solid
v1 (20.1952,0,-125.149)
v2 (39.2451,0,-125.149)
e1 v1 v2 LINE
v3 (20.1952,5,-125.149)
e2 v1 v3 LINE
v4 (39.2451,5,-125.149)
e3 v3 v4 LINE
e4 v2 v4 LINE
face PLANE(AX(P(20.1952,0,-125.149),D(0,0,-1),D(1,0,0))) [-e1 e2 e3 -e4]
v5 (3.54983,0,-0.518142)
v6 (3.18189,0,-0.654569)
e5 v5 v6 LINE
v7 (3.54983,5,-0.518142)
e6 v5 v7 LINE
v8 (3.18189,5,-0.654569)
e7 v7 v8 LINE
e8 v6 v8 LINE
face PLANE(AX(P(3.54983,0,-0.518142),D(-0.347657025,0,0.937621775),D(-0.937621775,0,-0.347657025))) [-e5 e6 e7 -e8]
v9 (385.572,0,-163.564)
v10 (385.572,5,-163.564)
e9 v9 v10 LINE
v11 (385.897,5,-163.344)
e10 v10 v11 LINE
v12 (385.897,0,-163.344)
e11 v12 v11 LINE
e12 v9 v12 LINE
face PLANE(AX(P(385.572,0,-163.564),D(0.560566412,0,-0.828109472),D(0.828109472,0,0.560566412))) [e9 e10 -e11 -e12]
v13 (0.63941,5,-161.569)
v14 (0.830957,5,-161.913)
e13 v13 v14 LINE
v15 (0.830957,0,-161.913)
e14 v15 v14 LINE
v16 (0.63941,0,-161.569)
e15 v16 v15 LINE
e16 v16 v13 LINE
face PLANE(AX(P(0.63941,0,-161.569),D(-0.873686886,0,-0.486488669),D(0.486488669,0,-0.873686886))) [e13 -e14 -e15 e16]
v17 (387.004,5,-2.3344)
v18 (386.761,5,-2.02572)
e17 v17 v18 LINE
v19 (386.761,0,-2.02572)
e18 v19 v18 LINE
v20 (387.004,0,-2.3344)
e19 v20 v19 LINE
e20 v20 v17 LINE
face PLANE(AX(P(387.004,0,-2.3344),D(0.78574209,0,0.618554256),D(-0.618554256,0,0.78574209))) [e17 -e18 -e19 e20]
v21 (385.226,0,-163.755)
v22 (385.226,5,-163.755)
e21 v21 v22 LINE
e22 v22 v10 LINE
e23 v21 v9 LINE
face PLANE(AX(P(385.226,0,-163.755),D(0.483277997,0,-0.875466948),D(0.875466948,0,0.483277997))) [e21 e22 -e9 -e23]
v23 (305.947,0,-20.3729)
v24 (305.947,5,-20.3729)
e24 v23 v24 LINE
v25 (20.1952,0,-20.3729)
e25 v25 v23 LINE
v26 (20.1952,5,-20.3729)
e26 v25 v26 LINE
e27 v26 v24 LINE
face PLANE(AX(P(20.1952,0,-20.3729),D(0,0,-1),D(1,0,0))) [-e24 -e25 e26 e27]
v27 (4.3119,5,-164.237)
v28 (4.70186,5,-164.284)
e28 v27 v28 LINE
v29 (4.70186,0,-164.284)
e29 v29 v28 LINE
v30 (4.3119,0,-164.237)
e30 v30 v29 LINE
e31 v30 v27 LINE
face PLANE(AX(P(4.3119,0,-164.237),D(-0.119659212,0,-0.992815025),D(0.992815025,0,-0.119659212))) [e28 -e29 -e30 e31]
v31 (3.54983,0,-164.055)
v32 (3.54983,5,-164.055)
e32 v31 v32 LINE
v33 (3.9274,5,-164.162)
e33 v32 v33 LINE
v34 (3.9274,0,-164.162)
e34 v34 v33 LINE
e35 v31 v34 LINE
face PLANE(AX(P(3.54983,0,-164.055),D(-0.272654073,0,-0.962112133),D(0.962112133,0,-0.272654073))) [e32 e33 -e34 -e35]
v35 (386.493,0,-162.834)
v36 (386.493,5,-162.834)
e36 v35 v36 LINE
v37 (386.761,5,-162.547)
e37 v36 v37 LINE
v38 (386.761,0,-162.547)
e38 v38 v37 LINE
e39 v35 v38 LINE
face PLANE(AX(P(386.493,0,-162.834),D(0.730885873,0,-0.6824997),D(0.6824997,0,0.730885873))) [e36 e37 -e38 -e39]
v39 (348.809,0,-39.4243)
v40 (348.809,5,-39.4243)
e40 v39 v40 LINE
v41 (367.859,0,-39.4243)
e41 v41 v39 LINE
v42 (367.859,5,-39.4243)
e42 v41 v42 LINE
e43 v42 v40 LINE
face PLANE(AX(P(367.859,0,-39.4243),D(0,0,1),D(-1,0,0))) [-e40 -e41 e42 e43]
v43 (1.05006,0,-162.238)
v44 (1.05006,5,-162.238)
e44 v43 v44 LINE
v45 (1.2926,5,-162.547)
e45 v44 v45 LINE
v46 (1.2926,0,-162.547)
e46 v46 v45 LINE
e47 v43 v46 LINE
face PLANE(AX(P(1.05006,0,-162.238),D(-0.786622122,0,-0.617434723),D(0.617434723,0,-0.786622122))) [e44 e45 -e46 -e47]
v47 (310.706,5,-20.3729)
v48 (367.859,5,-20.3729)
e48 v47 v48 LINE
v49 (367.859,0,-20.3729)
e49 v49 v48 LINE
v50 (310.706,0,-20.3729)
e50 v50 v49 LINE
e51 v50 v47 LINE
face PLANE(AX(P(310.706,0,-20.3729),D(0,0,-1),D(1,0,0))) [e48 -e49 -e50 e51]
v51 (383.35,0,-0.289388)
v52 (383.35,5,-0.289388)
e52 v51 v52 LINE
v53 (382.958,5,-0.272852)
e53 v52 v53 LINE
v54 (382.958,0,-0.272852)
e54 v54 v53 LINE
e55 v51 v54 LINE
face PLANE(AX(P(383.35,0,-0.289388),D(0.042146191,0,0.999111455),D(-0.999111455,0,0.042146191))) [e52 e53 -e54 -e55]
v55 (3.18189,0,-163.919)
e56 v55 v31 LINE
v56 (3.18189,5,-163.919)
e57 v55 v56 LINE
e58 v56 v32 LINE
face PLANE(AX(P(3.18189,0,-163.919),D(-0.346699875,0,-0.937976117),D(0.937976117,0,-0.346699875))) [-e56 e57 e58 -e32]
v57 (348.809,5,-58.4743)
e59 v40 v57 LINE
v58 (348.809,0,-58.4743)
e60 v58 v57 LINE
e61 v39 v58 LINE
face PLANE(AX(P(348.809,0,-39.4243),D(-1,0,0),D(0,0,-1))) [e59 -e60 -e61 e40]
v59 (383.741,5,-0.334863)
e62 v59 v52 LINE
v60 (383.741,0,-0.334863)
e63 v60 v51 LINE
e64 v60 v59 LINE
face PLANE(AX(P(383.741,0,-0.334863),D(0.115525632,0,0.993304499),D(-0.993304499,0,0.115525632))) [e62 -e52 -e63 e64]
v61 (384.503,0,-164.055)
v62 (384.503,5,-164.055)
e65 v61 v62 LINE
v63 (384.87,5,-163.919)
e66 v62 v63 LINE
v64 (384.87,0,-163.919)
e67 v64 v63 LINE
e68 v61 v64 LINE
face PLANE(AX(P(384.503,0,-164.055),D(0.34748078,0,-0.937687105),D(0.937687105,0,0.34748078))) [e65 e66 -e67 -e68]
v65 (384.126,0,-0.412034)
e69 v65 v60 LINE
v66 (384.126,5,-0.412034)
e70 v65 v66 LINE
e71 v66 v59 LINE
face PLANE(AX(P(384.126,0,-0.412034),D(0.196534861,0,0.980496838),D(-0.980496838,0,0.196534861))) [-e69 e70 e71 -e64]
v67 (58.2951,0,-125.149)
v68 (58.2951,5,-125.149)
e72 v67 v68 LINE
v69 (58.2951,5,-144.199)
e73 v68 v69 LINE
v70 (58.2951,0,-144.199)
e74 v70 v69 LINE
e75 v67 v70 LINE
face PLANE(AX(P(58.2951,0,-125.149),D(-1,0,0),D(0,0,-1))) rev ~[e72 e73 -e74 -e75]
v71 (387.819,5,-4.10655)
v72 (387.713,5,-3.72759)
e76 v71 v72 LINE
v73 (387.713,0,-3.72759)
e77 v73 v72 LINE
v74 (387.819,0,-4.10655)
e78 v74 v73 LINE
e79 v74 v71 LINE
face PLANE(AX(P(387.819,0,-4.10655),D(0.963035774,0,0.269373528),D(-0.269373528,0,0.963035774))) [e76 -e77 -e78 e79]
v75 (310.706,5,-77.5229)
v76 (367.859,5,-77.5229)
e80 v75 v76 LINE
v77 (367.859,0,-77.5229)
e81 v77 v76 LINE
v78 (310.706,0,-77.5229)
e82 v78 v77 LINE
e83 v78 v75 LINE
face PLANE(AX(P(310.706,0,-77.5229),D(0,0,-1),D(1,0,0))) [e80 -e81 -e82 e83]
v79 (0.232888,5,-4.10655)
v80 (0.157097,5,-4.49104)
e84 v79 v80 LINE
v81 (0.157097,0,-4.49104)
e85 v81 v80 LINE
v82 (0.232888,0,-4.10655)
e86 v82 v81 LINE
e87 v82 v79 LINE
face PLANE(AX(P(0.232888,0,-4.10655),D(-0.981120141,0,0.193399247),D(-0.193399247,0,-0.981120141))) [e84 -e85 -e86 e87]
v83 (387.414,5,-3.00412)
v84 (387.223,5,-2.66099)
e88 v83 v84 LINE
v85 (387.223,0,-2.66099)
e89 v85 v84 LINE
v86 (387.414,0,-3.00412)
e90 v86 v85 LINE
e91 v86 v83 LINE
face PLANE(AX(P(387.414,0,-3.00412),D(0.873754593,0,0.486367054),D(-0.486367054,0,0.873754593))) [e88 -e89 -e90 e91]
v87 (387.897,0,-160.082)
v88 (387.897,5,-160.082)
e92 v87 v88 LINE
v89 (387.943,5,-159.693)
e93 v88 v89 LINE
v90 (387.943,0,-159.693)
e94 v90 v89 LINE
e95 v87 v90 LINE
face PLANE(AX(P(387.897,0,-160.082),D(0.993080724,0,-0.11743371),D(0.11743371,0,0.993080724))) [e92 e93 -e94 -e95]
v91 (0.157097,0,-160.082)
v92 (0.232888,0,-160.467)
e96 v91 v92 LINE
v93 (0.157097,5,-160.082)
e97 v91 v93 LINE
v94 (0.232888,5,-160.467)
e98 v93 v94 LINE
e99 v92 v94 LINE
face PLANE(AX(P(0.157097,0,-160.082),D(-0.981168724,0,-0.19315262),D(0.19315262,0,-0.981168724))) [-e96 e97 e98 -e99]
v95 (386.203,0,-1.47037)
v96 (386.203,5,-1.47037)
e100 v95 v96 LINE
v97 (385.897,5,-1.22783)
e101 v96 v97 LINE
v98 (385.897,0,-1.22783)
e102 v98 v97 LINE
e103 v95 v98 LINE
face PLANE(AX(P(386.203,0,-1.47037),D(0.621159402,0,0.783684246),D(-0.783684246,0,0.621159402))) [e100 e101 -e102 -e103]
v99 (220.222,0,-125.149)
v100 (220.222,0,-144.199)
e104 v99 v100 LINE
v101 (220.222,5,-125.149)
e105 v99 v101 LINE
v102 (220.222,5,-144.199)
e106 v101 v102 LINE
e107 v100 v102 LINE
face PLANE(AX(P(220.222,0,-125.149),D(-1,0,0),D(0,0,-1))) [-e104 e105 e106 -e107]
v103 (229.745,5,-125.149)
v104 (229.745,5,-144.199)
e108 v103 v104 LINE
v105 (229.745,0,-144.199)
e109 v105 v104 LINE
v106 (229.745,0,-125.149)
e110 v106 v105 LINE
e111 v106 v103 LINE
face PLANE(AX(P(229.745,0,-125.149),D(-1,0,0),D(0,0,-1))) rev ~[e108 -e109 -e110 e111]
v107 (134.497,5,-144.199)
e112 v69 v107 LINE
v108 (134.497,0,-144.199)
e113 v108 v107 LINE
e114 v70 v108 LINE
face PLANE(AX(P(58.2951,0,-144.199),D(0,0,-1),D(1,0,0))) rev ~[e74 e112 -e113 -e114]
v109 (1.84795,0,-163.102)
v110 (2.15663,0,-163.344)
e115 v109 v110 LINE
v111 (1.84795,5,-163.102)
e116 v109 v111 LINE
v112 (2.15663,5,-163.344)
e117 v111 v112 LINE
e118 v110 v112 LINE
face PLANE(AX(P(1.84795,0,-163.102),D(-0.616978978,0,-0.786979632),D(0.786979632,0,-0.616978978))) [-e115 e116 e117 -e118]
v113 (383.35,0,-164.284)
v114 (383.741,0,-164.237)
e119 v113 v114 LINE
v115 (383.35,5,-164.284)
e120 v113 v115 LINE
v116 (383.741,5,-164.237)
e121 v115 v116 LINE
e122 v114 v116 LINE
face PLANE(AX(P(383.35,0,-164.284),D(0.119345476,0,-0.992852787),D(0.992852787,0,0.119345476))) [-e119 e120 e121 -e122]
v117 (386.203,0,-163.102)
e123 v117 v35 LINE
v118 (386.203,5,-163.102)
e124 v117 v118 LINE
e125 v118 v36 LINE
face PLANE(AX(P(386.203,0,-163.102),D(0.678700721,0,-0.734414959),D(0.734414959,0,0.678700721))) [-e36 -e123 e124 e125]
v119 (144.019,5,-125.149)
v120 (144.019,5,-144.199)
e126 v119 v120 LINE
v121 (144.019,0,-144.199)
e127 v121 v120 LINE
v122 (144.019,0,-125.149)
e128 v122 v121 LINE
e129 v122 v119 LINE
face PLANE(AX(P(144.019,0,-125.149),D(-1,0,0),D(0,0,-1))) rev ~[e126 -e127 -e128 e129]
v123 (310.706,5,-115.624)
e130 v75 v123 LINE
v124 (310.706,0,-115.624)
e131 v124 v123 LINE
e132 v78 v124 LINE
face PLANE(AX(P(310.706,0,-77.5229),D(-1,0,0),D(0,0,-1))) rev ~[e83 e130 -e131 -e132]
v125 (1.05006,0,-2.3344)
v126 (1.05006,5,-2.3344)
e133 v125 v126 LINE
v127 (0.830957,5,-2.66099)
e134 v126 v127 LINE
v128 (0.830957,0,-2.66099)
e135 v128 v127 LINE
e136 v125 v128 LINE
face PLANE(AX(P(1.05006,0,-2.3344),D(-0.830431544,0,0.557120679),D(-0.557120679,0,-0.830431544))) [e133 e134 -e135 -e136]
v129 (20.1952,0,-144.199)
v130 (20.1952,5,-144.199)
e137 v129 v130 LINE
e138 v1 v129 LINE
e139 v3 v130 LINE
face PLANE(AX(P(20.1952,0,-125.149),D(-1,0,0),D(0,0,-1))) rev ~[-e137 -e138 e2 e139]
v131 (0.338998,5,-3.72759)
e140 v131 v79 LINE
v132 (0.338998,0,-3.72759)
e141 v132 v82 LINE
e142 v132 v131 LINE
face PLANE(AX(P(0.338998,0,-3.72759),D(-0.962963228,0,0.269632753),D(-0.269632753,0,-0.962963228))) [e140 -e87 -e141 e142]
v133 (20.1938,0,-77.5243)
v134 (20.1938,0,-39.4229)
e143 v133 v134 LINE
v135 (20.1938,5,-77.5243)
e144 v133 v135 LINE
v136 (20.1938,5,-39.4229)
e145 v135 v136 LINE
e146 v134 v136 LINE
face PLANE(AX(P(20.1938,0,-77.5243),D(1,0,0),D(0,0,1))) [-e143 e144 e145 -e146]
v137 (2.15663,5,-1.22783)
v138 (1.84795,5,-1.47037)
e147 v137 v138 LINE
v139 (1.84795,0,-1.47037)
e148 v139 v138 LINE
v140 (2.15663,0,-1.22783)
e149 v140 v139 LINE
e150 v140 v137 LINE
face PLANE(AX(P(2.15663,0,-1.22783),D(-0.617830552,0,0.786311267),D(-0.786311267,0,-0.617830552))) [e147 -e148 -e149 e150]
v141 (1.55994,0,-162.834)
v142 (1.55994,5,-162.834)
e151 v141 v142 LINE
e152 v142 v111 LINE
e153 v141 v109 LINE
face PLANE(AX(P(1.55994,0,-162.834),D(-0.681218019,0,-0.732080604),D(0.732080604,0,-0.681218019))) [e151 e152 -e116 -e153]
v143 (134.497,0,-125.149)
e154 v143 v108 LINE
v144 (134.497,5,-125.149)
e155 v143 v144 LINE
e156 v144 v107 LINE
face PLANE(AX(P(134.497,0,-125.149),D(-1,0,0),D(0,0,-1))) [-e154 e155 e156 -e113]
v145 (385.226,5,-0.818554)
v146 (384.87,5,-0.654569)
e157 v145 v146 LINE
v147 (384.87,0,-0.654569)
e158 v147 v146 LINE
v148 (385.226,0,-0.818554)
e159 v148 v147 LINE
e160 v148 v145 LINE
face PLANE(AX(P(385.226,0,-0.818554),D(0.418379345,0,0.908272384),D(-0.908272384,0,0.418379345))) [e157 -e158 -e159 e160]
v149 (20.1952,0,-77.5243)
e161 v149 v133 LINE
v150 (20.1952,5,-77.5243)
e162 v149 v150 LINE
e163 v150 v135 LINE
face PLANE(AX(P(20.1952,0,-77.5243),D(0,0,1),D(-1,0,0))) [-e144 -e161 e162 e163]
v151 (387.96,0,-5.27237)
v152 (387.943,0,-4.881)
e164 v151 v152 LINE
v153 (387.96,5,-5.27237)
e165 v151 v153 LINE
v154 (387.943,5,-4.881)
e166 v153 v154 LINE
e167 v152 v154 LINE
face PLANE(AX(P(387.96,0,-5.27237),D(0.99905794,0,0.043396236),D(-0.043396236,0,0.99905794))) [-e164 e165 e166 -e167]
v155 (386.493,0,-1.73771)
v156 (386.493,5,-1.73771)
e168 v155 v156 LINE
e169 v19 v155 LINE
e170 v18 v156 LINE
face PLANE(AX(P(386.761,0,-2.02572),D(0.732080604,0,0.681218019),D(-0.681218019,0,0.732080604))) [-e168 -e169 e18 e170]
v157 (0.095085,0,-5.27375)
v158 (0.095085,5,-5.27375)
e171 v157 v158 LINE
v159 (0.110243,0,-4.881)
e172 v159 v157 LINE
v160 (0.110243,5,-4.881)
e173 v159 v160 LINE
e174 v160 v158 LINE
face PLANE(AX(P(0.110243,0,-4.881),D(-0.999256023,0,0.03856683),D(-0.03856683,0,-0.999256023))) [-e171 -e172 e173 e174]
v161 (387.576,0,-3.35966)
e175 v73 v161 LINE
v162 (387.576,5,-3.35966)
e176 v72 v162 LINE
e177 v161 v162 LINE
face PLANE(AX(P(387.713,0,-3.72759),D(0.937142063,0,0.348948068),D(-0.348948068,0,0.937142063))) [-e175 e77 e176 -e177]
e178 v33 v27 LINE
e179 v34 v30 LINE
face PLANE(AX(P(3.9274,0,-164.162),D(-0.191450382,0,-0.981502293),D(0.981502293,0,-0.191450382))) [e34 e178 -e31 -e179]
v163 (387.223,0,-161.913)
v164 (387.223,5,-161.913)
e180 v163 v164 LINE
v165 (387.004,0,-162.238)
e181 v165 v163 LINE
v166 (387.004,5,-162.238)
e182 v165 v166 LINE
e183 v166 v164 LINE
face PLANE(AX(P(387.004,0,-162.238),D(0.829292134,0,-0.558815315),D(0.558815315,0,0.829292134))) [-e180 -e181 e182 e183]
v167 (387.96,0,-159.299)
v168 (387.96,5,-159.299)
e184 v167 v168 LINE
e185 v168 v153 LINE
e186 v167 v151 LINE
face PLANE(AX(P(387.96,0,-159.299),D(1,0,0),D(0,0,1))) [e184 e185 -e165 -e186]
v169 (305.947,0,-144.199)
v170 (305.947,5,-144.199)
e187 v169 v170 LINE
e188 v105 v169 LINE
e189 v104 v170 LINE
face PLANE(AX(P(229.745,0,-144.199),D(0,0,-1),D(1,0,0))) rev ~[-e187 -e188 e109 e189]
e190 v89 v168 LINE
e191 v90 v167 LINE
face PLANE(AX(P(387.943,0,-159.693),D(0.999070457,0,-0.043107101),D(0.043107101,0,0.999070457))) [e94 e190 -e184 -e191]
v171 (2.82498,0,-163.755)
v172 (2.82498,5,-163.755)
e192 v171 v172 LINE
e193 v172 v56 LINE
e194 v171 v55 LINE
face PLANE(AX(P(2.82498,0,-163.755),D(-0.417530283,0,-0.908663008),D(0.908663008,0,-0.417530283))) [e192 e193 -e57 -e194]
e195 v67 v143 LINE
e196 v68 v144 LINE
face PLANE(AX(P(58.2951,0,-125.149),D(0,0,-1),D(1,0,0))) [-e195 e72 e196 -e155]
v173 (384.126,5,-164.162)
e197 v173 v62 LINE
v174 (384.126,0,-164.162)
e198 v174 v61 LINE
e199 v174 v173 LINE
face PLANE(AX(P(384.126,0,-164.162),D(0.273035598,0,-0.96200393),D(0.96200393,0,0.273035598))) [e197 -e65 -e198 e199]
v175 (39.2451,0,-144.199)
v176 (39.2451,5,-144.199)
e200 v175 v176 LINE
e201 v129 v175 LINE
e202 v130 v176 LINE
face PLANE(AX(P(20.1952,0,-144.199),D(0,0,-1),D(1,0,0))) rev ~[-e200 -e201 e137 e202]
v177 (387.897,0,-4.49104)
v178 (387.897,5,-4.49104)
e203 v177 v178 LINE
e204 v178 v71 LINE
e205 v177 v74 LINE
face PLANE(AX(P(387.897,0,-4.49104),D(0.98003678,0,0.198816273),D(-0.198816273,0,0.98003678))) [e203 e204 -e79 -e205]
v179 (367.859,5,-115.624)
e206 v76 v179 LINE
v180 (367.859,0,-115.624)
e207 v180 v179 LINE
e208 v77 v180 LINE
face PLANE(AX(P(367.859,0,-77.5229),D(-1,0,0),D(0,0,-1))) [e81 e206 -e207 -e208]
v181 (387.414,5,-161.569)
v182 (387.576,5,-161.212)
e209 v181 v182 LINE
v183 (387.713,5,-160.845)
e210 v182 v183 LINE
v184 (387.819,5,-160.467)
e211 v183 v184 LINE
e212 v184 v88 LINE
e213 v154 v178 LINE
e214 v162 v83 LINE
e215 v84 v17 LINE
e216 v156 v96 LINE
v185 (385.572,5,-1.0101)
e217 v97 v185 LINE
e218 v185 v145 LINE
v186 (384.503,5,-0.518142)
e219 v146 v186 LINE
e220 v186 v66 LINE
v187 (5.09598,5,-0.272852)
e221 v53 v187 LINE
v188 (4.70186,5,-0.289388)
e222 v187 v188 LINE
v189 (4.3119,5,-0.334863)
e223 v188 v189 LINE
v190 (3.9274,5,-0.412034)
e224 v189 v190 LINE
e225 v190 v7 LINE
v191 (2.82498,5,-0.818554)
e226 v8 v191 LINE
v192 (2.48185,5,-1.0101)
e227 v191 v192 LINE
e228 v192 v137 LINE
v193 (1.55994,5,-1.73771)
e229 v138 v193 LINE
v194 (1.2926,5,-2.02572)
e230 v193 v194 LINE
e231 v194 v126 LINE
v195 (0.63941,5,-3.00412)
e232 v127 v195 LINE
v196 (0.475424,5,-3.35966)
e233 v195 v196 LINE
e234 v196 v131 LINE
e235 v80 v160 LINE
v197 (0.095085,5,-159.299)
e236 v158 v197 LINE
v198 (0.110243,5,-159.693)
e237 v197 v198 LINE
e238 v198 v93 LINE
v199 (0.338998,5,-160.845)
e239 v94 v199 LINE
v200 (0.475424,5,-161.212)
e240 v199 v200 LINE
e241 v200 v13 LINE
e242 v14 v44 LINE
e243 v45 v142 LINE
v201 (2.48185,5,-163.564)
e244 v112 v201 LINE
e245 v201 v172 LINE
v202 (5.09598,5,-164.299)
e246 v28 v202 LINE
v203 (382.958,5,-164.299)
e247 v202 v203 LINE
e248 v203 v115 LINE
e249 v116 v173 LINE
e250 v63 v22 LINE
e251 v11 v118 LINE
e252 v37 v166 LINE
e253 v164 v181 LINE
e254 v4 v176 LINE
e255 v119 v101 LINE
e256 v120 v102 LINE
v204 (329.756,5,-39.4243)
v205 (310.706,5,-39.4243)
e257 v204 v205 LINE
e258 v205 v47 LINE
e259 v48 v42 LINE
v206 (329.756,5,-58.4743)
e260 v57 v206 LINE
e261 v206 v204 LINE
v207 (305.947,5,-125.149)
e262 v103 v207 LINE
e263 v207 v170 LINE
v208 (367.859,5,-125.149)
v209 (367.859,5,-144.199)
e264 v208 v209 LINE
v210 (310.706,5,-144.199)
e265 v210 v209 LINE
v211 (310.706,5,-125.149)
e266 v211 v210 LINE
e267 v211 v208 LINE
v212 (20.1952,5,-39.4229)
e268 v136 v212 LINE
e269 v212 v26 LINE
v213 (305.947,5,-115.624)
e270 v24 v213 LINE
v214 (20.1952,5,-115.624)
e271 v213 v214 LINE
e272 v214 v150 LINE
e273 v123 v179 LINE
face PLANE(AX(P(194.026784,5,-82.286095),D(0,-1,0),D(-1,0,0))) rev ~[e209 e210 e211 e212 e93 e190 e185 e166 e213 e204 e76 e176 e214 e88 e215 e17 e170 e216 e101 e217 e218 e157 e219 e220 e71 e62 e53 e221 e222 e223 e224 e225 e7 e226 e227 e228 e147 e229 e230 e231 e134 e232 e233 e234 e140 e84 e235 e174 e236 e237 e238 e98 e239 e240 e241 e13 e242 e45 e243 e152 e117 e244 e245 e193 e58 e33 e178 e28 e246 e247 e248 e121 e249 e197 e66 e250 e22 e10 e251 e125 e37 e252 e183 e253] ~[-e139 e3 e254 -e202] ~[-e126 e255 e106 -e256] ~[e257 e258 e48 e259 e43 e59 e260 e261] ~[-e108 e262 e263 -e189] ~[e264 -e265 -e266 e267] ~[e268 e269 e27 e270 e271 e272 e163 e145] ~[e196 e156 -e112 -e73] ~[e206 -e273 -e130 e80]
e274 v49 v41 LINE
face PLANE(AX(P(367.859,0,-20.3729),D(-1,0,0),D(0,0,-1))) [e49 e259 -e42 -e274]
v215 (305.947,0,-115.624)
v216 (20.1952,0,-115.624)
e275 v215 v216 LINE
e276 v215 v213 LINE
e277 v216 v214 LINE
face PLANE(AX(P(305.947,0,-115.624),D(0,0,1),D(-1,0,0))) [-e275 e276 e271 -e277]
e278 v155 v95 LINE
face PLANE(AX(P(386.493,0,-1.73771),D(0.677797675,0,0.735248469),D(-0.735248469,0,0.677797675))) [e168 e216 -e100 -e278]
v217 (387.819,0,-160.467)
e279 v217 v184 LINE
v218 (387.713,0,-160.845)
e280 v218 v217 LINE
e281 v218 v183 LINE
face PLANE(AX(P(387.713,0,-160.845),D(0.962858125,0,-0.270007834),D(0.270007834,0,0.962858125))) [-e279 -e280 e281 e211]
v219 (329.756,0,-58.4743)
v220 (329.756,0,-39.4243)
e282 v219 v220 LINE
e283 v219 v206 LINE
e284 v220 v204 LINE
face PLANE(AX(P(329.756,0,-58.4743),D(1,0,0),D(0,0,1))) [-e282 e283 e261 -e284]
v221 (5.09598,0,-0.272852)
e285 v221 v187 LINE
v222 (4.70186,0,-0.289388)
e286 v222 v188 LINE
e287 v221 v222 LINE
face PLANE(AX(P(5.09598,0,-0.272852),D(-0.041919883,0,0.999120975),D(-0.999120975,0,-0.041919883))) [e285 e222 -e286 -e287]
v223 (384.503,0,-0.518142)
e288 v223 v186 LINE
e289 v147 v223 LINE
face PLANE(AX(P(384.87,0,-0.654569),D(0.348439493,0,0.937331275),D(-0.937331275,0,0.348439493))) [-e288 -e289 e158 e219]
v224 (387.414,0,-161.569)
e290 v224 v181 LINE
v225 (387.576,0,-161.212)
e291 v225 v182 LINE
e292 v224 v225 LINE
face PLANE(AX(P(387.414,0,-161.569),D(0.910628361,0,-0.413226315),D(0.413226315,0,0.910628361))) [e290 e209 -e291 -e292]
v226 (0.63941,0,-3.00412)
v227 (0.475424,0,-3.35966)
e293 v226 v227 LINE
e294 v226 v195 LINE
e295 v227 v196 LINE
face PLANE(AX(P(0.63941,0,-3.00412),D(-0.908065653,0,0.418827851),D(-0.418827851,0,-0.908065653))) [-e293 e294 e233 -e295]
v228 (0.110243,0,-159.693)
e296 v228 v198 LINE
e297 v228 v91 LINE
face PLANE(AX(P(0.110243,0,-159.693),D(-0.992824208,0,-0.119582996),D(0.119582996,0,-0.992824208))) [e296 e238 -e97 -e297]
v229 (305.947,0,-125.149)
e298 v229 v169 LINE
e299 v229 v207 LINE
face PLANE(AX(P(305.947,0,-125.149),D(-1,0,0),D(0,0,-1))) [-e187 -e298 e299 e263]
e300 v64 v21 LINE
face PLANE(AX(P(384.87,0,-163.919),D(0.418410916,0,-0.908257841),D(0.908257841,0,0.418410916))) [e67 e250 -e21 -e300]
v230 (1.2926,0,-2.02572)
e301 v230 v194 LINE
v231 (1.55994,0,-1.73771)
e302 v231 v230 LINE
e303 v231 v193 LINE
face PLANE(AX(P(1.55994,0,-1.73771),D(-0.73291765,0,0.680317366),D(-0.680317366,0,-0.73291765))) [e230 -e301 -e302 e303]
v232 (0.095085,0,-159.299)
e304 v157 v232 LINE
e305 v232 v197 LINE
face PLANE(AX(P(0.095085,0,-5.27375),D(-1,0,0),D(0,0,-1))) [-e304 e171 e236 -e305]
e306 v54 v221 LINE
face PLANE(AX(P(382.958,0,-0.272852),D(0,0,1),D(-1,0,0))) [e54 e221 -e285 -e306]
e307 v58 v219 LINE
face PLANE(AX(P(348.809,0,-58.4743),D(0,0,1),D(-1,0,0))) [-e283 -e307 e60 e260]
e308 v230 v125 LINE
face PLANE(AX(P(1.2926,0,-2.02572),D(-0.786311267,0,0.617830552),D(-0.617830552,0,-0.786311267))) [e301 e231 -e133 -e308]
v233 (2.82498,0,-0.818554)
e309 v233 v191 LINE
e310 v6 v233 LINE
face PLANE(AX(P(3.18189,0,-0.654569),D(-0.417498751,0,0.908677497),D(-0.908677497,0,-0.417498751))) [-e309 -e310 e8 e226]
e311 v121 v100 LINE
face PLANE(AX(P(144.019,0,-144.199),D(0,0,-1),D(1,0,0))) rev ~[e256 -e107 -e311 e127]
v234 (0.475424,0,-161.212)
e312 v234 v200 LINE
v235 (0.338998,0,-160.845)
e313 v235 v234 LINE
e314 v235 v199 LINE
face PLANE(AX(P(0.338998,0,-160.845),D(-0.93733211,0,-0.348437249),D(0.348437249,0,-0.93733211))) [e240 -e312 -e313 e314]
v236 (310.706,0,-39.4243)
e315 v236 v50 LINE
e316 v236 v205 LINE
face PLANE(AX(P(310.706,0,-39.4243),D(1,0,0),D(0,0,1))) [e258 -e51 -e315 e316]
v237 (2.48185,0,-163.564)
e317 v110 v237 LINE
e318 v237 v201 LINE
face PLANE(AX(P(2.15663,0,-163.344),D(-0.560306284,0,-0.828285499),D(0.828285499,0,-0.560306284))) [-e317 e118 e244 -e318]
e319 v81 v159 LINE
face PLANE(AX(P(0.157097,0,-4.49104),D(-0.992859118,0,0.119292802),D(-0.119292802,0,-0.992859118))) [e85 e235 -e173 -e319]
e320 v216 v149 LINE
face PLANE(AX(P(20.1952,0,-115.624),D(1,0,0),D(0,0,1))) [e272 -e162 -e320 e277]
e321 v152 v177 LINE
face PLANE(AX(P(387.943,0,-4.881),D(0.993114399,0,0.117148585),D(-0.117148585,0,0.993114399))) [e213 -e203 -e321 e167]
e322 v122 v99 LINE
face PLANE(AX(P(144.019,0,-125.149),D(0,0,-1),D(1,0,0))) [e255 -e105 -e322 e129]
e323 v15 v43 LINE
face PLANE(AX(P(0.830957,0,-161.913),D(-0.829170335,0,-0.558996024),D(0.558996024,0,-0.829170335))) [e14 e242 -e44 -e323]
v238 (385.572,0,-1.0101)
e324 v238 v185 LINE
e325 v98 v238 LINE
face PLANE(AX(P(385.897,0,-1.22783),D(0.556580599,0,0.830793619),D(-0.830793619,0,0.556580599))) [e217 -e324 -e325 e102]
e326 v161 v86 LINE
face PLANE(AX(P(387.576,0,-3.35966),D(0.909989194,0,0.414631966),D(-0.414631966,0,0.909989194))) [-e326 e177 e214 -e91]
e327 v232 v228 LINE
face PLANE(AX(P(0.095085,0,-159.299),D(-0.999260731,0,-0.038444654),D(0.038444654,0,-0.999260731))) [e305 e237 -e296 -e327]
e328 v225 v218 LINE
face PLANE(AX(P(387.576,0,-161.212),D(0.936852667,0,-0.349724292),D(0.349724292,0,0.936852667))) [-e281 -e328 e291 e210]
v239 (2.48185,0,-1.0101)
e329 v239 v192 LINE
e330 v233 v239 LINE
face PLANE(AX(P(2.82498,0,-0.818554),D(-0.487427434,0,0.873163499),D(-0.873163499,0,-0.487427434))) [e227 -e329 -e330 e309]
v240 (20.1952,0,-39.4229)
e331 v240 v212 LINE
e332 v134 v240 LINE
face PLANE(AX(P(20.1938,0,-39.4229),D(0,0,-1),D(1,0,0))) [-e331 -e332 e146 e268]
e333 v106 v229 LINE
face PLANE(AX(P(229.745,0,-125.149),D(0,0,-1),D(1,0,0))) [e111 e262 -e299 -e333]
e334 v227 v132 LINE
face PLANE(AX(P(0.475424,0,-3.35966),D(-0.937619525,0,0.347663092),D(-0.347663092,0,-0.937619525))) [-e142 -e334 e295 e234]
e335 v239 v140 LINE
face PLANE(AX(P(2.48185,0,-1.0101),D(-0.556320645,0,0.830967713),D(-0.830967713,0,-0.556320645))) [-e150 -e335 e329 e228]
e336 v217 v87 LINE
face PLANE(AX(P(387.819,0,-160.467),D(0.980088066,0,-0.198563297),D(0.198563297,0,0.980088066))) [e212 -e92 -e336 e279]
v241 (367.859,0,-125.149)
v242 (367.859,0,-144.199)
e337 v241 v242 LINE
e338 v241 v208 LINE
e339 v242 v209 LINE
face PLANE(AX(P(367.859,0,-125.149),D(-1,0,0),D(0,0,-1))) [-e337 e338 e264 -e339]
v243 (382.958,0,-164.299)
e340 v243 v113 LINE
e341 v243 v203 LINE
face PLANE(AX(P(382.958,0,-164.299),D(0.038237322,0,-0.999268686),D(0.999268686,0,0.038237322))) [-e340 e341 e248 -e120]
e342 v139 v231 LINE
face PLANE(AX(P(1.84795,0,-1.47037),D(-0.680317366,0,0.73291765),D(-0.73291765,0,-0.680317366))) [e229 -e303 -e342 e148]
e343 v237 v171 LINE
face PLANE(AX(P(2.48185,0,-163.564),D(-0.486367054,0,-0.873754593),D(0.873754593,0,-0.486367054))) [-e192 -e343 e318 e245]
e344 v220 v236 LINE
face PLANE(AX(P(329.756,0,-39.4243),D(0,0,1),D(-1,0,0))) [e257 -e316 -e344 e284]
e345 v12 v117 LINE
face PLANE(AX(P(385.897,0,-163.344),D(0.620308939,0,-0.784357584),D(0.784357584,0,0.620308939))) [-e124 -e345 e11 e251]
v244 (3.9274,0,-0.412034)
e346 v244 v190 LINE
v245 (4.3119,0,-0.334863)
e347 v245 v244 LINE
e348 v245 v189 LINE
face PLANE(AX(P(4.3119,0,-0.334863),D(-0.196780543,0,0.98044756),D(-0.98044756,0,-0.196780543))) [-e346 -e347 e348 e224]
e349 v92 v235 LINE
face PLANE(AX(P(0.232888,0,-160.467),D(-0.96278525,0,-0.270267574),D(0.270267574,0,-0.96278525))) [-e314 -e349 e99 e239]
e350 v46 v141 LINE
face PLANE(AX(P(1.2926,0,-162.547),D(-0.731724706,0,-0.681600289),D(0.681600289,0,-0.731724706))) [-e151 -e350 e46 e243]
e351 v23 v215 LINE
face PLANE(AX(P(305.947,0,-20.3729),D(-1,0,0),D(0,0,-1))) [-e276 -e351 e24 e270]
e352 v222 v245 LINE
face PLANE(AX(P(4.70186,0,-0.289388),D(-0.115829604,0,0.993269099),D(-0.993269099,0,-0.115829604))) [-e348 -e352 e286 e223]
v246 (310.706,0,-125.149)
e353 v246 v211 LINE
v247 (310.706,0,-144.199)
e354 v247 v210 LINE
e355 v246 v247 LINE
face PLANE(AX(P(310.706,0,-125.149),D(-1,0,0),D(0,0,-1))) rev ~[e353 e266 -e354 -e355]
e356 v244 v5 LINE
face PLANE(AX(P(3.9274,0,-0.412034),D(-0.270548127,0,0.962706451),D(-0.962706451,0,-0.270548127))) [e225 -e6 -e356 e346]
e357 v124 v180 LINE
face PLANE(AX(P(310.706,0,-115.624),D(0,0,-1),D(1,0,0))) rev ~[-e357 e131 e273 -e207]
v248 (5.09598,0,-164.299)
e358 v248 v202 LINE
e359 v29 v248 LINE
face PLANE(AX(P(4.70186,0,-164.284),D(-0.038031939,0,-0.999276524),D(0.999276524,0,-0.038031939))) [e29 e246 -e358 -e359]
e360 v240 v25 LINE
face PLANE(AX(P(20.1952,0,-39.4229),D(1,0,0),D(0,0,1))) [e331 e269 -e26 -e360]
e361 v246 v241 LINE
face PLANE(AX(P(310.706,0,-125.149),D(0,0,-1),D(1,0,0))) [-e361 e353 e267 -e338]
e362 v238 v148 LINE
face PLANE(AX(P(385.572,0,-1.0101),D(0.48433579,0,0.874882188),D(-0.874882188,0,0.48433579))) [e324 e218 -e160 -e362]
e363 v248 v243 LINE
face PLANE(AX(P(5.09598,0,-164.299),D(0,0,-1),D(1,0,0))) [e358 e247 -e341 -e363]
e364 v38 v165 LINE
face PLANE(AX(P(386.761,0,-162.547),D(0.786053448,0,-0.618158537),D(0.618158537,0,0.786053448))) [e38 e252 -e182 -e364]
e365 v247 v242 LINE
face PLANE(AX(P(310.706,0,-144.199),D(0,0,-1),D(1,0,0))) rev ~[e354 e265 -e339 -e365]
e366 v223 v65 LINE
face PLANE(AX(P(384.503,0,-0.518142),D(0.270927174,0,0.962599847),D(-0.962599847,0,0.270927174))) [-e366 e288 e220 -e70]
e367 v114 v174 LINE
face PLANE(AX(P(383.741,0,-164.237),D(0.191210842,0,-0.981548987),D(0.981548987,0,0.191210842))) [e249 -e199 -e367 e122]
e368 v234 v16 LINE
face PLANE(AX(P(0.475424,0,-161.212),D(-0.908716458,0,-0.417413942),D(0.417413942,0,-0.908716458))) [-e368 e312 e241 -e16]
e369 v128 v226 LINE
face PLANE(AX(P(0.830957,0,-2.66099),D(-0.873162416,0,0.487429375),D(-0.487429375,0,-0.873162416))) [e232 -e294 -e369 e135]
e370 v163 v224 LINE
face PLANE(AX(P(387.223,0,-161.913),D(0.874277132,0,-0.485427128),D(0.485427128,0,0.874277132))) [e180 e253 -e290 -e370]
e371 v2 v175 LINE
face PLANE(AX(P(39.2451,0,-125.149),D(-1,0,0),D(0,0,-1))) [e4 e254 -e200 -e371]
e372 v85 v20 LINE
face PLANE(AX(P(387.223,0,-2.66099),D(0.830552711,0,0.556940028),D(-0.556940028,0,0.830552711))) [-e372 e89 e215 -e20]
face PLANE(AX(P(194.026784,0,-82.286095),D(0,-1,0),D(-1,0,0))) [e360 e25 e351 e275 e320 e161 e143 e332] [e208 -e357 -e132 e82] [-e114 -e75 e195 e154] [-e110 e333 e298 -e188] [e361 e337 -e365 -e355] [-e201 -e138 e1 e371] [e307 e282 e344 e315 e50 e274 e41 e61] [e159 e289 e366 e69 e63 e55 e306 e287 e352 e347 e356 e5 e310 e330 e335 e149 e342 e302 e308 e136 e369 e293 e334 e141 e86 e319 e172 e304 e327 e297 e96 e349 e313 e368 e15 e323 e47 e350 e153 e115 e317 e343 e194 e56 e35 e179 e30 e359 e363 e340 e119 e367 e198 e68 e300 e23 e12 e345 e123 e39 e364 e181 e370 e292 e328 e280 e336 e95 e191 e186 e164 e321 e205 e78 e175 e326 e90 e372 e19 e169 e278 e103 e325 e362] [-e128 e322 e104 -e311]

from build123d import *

# Parameters (mm, degrees)
SKETCH2_W           = 57.153
SKETCH2_H           = 38.1011
SKETCH2_H_2         = 19.05
SKETCH2_W_2         = 76.202
SKETCH2_W_3         = 76.203
SKETCH2_W_4         = 76.2019
SKETCH2_W_5         = 19.0499
BOSS_EXTRUDE1_DEPTH = 5


with BuildPart() as part:
    # Sketch2 → Boss-Extrude1 (new body)
    with BuildSketch(Plane(origin=(0, 0, 0), x_dir=(1, 0, 0), z_dir=(0, 1, 0))):
        Polygon((382.958, 164.299), (383.35, 164.284), (383.741, 164.237), (384.126, 164.162), (384.503, 164.055), (384.87, 163.919), (385.226, 163.755), (385.572, 163.564), (385.897, 163.344), (386.203, 163.102), (386.493, 162.834), (386.761, 162.547), (387.004, 162.238), (387.223, 161.913), (387.414, 161.569), (387.576, 161.212), (387.713, 160.845), (387.819, 160.467), (387.897, 160.082), (387.943, 159.693), (387.96, 159.299), (387.96, 5.27237), (387.943, 4.881), (387.897, 4.49104), (387.819, 4.10655), (387.713, 3.72759), (387.576, 3.35966), (387.414, 3.00412), (387.223, 2.66099), (387.004, 2.3344), (386.761, 2.02572), (386.493, 1.73771), (386.203, 1.47037), (385.897, 1.22783), (385.572, 1.0101), (385.226, 0.818554), (384.87, 0.654569), (384.503, 0.518142), (384.126, 0.412034), (383.741, 0.334863), (383.35, 0.289388), (382.958, 0.272852), (5.09598, 0.272852), (4.70186, 0.289388), (4.3119, 0.334863), (3.9274, 0.412034), (3.54983, 0.518142), (3.18189, 0.654569), (2.82498, 0.818554), (2.48185, 1.0101), (2.15663, 1.22783), (1.84795, 1.47037), (1.55994, 1.73771), (1.2926, 2.02572), (1.05006, 2.3344), (0.830957, 2.66099), (0.63941, 3.00412), (0.475424, 3.35966), (0.338998, 3.72759), (0.232888, 4.10655), (0.157097, 4.49104), (0.110243, 4.881), (0.0950846, 5.27375), (0.0950846, 159.299), (0.110243, 159.693), (0.157097, 160.082), (0.232888, 160.467), (0.338998, 160.845), (0.475424, 161.212), (0.63941, 161.569), (0.830957, 161.913), (1.05006, 162.238), (1.2926, 162.547), (1.55994, 162.834), (1.84795, 163.102), (2.15663, 163.344), (2.48185, 163.564), (2.82498, 163.755), (3.18189, 163.919), (3.54983, 164.055), (3.9274, 164.162), (4.3119, 164.237), (4.70186, 164.284), (5.09598, 164.299), align=None)
        Polygon((329.756, 58.4743), (329.756, 39.4243), (310.706, 39.4243), (310.706, 20.3729), (367.859, 20.3729), (367.859, 39.4243), (348.809, 39.4243), (348.809, 58.4743), align=None, mode=Mode.SUBTRACT)
        Polygon((20.1952, 115.624), (20.1952, 77.5243), (20.1938, 77.5243), (20.1938, 39.4229), (20.1952, 39.4229), (20.1952, 20.3729), (305.947, 20.3729), (305.947, 115.624), align=None, mode=Mode.SUBTRACT)
        with Locations((339.2825, 96.57345)):
            Rectangle(SKETCH2_W, SKETCH2_H, mode=Mode.SUBTRACT)
        with Locations((339.2825, 134.674)):
            Rectangle(SKETCH2_W, SKETCH2_H_2, mode=Mode.SUBTRACT)
        with Locations((267.846, 134.674)):
            Rectangle(SKETCH2_W_2, SKETCH2_H_2, mode=Mode.SUBTRACT)
        with Locations((182.1205, 134.674)):
            Rectangle(SKETCH2_W_3, SKETCH2_H_2, mode=Mode.SUBTRACT)
        with Locations((96.39605, 134.674)):
            Rectangle(SKETCH2_W_4, SKETCH2_H_2, mode=Mode.SUBTRACT)
        with Locations((29.72015, 134.674)):
            Rectangle(SKETCH2_W_5, SKETCH2_H_2, mode=Mode.SUBTRACT)
    extrude(amount=BOSS_EXTRUDE1_DEPTH)


solid = part.part
